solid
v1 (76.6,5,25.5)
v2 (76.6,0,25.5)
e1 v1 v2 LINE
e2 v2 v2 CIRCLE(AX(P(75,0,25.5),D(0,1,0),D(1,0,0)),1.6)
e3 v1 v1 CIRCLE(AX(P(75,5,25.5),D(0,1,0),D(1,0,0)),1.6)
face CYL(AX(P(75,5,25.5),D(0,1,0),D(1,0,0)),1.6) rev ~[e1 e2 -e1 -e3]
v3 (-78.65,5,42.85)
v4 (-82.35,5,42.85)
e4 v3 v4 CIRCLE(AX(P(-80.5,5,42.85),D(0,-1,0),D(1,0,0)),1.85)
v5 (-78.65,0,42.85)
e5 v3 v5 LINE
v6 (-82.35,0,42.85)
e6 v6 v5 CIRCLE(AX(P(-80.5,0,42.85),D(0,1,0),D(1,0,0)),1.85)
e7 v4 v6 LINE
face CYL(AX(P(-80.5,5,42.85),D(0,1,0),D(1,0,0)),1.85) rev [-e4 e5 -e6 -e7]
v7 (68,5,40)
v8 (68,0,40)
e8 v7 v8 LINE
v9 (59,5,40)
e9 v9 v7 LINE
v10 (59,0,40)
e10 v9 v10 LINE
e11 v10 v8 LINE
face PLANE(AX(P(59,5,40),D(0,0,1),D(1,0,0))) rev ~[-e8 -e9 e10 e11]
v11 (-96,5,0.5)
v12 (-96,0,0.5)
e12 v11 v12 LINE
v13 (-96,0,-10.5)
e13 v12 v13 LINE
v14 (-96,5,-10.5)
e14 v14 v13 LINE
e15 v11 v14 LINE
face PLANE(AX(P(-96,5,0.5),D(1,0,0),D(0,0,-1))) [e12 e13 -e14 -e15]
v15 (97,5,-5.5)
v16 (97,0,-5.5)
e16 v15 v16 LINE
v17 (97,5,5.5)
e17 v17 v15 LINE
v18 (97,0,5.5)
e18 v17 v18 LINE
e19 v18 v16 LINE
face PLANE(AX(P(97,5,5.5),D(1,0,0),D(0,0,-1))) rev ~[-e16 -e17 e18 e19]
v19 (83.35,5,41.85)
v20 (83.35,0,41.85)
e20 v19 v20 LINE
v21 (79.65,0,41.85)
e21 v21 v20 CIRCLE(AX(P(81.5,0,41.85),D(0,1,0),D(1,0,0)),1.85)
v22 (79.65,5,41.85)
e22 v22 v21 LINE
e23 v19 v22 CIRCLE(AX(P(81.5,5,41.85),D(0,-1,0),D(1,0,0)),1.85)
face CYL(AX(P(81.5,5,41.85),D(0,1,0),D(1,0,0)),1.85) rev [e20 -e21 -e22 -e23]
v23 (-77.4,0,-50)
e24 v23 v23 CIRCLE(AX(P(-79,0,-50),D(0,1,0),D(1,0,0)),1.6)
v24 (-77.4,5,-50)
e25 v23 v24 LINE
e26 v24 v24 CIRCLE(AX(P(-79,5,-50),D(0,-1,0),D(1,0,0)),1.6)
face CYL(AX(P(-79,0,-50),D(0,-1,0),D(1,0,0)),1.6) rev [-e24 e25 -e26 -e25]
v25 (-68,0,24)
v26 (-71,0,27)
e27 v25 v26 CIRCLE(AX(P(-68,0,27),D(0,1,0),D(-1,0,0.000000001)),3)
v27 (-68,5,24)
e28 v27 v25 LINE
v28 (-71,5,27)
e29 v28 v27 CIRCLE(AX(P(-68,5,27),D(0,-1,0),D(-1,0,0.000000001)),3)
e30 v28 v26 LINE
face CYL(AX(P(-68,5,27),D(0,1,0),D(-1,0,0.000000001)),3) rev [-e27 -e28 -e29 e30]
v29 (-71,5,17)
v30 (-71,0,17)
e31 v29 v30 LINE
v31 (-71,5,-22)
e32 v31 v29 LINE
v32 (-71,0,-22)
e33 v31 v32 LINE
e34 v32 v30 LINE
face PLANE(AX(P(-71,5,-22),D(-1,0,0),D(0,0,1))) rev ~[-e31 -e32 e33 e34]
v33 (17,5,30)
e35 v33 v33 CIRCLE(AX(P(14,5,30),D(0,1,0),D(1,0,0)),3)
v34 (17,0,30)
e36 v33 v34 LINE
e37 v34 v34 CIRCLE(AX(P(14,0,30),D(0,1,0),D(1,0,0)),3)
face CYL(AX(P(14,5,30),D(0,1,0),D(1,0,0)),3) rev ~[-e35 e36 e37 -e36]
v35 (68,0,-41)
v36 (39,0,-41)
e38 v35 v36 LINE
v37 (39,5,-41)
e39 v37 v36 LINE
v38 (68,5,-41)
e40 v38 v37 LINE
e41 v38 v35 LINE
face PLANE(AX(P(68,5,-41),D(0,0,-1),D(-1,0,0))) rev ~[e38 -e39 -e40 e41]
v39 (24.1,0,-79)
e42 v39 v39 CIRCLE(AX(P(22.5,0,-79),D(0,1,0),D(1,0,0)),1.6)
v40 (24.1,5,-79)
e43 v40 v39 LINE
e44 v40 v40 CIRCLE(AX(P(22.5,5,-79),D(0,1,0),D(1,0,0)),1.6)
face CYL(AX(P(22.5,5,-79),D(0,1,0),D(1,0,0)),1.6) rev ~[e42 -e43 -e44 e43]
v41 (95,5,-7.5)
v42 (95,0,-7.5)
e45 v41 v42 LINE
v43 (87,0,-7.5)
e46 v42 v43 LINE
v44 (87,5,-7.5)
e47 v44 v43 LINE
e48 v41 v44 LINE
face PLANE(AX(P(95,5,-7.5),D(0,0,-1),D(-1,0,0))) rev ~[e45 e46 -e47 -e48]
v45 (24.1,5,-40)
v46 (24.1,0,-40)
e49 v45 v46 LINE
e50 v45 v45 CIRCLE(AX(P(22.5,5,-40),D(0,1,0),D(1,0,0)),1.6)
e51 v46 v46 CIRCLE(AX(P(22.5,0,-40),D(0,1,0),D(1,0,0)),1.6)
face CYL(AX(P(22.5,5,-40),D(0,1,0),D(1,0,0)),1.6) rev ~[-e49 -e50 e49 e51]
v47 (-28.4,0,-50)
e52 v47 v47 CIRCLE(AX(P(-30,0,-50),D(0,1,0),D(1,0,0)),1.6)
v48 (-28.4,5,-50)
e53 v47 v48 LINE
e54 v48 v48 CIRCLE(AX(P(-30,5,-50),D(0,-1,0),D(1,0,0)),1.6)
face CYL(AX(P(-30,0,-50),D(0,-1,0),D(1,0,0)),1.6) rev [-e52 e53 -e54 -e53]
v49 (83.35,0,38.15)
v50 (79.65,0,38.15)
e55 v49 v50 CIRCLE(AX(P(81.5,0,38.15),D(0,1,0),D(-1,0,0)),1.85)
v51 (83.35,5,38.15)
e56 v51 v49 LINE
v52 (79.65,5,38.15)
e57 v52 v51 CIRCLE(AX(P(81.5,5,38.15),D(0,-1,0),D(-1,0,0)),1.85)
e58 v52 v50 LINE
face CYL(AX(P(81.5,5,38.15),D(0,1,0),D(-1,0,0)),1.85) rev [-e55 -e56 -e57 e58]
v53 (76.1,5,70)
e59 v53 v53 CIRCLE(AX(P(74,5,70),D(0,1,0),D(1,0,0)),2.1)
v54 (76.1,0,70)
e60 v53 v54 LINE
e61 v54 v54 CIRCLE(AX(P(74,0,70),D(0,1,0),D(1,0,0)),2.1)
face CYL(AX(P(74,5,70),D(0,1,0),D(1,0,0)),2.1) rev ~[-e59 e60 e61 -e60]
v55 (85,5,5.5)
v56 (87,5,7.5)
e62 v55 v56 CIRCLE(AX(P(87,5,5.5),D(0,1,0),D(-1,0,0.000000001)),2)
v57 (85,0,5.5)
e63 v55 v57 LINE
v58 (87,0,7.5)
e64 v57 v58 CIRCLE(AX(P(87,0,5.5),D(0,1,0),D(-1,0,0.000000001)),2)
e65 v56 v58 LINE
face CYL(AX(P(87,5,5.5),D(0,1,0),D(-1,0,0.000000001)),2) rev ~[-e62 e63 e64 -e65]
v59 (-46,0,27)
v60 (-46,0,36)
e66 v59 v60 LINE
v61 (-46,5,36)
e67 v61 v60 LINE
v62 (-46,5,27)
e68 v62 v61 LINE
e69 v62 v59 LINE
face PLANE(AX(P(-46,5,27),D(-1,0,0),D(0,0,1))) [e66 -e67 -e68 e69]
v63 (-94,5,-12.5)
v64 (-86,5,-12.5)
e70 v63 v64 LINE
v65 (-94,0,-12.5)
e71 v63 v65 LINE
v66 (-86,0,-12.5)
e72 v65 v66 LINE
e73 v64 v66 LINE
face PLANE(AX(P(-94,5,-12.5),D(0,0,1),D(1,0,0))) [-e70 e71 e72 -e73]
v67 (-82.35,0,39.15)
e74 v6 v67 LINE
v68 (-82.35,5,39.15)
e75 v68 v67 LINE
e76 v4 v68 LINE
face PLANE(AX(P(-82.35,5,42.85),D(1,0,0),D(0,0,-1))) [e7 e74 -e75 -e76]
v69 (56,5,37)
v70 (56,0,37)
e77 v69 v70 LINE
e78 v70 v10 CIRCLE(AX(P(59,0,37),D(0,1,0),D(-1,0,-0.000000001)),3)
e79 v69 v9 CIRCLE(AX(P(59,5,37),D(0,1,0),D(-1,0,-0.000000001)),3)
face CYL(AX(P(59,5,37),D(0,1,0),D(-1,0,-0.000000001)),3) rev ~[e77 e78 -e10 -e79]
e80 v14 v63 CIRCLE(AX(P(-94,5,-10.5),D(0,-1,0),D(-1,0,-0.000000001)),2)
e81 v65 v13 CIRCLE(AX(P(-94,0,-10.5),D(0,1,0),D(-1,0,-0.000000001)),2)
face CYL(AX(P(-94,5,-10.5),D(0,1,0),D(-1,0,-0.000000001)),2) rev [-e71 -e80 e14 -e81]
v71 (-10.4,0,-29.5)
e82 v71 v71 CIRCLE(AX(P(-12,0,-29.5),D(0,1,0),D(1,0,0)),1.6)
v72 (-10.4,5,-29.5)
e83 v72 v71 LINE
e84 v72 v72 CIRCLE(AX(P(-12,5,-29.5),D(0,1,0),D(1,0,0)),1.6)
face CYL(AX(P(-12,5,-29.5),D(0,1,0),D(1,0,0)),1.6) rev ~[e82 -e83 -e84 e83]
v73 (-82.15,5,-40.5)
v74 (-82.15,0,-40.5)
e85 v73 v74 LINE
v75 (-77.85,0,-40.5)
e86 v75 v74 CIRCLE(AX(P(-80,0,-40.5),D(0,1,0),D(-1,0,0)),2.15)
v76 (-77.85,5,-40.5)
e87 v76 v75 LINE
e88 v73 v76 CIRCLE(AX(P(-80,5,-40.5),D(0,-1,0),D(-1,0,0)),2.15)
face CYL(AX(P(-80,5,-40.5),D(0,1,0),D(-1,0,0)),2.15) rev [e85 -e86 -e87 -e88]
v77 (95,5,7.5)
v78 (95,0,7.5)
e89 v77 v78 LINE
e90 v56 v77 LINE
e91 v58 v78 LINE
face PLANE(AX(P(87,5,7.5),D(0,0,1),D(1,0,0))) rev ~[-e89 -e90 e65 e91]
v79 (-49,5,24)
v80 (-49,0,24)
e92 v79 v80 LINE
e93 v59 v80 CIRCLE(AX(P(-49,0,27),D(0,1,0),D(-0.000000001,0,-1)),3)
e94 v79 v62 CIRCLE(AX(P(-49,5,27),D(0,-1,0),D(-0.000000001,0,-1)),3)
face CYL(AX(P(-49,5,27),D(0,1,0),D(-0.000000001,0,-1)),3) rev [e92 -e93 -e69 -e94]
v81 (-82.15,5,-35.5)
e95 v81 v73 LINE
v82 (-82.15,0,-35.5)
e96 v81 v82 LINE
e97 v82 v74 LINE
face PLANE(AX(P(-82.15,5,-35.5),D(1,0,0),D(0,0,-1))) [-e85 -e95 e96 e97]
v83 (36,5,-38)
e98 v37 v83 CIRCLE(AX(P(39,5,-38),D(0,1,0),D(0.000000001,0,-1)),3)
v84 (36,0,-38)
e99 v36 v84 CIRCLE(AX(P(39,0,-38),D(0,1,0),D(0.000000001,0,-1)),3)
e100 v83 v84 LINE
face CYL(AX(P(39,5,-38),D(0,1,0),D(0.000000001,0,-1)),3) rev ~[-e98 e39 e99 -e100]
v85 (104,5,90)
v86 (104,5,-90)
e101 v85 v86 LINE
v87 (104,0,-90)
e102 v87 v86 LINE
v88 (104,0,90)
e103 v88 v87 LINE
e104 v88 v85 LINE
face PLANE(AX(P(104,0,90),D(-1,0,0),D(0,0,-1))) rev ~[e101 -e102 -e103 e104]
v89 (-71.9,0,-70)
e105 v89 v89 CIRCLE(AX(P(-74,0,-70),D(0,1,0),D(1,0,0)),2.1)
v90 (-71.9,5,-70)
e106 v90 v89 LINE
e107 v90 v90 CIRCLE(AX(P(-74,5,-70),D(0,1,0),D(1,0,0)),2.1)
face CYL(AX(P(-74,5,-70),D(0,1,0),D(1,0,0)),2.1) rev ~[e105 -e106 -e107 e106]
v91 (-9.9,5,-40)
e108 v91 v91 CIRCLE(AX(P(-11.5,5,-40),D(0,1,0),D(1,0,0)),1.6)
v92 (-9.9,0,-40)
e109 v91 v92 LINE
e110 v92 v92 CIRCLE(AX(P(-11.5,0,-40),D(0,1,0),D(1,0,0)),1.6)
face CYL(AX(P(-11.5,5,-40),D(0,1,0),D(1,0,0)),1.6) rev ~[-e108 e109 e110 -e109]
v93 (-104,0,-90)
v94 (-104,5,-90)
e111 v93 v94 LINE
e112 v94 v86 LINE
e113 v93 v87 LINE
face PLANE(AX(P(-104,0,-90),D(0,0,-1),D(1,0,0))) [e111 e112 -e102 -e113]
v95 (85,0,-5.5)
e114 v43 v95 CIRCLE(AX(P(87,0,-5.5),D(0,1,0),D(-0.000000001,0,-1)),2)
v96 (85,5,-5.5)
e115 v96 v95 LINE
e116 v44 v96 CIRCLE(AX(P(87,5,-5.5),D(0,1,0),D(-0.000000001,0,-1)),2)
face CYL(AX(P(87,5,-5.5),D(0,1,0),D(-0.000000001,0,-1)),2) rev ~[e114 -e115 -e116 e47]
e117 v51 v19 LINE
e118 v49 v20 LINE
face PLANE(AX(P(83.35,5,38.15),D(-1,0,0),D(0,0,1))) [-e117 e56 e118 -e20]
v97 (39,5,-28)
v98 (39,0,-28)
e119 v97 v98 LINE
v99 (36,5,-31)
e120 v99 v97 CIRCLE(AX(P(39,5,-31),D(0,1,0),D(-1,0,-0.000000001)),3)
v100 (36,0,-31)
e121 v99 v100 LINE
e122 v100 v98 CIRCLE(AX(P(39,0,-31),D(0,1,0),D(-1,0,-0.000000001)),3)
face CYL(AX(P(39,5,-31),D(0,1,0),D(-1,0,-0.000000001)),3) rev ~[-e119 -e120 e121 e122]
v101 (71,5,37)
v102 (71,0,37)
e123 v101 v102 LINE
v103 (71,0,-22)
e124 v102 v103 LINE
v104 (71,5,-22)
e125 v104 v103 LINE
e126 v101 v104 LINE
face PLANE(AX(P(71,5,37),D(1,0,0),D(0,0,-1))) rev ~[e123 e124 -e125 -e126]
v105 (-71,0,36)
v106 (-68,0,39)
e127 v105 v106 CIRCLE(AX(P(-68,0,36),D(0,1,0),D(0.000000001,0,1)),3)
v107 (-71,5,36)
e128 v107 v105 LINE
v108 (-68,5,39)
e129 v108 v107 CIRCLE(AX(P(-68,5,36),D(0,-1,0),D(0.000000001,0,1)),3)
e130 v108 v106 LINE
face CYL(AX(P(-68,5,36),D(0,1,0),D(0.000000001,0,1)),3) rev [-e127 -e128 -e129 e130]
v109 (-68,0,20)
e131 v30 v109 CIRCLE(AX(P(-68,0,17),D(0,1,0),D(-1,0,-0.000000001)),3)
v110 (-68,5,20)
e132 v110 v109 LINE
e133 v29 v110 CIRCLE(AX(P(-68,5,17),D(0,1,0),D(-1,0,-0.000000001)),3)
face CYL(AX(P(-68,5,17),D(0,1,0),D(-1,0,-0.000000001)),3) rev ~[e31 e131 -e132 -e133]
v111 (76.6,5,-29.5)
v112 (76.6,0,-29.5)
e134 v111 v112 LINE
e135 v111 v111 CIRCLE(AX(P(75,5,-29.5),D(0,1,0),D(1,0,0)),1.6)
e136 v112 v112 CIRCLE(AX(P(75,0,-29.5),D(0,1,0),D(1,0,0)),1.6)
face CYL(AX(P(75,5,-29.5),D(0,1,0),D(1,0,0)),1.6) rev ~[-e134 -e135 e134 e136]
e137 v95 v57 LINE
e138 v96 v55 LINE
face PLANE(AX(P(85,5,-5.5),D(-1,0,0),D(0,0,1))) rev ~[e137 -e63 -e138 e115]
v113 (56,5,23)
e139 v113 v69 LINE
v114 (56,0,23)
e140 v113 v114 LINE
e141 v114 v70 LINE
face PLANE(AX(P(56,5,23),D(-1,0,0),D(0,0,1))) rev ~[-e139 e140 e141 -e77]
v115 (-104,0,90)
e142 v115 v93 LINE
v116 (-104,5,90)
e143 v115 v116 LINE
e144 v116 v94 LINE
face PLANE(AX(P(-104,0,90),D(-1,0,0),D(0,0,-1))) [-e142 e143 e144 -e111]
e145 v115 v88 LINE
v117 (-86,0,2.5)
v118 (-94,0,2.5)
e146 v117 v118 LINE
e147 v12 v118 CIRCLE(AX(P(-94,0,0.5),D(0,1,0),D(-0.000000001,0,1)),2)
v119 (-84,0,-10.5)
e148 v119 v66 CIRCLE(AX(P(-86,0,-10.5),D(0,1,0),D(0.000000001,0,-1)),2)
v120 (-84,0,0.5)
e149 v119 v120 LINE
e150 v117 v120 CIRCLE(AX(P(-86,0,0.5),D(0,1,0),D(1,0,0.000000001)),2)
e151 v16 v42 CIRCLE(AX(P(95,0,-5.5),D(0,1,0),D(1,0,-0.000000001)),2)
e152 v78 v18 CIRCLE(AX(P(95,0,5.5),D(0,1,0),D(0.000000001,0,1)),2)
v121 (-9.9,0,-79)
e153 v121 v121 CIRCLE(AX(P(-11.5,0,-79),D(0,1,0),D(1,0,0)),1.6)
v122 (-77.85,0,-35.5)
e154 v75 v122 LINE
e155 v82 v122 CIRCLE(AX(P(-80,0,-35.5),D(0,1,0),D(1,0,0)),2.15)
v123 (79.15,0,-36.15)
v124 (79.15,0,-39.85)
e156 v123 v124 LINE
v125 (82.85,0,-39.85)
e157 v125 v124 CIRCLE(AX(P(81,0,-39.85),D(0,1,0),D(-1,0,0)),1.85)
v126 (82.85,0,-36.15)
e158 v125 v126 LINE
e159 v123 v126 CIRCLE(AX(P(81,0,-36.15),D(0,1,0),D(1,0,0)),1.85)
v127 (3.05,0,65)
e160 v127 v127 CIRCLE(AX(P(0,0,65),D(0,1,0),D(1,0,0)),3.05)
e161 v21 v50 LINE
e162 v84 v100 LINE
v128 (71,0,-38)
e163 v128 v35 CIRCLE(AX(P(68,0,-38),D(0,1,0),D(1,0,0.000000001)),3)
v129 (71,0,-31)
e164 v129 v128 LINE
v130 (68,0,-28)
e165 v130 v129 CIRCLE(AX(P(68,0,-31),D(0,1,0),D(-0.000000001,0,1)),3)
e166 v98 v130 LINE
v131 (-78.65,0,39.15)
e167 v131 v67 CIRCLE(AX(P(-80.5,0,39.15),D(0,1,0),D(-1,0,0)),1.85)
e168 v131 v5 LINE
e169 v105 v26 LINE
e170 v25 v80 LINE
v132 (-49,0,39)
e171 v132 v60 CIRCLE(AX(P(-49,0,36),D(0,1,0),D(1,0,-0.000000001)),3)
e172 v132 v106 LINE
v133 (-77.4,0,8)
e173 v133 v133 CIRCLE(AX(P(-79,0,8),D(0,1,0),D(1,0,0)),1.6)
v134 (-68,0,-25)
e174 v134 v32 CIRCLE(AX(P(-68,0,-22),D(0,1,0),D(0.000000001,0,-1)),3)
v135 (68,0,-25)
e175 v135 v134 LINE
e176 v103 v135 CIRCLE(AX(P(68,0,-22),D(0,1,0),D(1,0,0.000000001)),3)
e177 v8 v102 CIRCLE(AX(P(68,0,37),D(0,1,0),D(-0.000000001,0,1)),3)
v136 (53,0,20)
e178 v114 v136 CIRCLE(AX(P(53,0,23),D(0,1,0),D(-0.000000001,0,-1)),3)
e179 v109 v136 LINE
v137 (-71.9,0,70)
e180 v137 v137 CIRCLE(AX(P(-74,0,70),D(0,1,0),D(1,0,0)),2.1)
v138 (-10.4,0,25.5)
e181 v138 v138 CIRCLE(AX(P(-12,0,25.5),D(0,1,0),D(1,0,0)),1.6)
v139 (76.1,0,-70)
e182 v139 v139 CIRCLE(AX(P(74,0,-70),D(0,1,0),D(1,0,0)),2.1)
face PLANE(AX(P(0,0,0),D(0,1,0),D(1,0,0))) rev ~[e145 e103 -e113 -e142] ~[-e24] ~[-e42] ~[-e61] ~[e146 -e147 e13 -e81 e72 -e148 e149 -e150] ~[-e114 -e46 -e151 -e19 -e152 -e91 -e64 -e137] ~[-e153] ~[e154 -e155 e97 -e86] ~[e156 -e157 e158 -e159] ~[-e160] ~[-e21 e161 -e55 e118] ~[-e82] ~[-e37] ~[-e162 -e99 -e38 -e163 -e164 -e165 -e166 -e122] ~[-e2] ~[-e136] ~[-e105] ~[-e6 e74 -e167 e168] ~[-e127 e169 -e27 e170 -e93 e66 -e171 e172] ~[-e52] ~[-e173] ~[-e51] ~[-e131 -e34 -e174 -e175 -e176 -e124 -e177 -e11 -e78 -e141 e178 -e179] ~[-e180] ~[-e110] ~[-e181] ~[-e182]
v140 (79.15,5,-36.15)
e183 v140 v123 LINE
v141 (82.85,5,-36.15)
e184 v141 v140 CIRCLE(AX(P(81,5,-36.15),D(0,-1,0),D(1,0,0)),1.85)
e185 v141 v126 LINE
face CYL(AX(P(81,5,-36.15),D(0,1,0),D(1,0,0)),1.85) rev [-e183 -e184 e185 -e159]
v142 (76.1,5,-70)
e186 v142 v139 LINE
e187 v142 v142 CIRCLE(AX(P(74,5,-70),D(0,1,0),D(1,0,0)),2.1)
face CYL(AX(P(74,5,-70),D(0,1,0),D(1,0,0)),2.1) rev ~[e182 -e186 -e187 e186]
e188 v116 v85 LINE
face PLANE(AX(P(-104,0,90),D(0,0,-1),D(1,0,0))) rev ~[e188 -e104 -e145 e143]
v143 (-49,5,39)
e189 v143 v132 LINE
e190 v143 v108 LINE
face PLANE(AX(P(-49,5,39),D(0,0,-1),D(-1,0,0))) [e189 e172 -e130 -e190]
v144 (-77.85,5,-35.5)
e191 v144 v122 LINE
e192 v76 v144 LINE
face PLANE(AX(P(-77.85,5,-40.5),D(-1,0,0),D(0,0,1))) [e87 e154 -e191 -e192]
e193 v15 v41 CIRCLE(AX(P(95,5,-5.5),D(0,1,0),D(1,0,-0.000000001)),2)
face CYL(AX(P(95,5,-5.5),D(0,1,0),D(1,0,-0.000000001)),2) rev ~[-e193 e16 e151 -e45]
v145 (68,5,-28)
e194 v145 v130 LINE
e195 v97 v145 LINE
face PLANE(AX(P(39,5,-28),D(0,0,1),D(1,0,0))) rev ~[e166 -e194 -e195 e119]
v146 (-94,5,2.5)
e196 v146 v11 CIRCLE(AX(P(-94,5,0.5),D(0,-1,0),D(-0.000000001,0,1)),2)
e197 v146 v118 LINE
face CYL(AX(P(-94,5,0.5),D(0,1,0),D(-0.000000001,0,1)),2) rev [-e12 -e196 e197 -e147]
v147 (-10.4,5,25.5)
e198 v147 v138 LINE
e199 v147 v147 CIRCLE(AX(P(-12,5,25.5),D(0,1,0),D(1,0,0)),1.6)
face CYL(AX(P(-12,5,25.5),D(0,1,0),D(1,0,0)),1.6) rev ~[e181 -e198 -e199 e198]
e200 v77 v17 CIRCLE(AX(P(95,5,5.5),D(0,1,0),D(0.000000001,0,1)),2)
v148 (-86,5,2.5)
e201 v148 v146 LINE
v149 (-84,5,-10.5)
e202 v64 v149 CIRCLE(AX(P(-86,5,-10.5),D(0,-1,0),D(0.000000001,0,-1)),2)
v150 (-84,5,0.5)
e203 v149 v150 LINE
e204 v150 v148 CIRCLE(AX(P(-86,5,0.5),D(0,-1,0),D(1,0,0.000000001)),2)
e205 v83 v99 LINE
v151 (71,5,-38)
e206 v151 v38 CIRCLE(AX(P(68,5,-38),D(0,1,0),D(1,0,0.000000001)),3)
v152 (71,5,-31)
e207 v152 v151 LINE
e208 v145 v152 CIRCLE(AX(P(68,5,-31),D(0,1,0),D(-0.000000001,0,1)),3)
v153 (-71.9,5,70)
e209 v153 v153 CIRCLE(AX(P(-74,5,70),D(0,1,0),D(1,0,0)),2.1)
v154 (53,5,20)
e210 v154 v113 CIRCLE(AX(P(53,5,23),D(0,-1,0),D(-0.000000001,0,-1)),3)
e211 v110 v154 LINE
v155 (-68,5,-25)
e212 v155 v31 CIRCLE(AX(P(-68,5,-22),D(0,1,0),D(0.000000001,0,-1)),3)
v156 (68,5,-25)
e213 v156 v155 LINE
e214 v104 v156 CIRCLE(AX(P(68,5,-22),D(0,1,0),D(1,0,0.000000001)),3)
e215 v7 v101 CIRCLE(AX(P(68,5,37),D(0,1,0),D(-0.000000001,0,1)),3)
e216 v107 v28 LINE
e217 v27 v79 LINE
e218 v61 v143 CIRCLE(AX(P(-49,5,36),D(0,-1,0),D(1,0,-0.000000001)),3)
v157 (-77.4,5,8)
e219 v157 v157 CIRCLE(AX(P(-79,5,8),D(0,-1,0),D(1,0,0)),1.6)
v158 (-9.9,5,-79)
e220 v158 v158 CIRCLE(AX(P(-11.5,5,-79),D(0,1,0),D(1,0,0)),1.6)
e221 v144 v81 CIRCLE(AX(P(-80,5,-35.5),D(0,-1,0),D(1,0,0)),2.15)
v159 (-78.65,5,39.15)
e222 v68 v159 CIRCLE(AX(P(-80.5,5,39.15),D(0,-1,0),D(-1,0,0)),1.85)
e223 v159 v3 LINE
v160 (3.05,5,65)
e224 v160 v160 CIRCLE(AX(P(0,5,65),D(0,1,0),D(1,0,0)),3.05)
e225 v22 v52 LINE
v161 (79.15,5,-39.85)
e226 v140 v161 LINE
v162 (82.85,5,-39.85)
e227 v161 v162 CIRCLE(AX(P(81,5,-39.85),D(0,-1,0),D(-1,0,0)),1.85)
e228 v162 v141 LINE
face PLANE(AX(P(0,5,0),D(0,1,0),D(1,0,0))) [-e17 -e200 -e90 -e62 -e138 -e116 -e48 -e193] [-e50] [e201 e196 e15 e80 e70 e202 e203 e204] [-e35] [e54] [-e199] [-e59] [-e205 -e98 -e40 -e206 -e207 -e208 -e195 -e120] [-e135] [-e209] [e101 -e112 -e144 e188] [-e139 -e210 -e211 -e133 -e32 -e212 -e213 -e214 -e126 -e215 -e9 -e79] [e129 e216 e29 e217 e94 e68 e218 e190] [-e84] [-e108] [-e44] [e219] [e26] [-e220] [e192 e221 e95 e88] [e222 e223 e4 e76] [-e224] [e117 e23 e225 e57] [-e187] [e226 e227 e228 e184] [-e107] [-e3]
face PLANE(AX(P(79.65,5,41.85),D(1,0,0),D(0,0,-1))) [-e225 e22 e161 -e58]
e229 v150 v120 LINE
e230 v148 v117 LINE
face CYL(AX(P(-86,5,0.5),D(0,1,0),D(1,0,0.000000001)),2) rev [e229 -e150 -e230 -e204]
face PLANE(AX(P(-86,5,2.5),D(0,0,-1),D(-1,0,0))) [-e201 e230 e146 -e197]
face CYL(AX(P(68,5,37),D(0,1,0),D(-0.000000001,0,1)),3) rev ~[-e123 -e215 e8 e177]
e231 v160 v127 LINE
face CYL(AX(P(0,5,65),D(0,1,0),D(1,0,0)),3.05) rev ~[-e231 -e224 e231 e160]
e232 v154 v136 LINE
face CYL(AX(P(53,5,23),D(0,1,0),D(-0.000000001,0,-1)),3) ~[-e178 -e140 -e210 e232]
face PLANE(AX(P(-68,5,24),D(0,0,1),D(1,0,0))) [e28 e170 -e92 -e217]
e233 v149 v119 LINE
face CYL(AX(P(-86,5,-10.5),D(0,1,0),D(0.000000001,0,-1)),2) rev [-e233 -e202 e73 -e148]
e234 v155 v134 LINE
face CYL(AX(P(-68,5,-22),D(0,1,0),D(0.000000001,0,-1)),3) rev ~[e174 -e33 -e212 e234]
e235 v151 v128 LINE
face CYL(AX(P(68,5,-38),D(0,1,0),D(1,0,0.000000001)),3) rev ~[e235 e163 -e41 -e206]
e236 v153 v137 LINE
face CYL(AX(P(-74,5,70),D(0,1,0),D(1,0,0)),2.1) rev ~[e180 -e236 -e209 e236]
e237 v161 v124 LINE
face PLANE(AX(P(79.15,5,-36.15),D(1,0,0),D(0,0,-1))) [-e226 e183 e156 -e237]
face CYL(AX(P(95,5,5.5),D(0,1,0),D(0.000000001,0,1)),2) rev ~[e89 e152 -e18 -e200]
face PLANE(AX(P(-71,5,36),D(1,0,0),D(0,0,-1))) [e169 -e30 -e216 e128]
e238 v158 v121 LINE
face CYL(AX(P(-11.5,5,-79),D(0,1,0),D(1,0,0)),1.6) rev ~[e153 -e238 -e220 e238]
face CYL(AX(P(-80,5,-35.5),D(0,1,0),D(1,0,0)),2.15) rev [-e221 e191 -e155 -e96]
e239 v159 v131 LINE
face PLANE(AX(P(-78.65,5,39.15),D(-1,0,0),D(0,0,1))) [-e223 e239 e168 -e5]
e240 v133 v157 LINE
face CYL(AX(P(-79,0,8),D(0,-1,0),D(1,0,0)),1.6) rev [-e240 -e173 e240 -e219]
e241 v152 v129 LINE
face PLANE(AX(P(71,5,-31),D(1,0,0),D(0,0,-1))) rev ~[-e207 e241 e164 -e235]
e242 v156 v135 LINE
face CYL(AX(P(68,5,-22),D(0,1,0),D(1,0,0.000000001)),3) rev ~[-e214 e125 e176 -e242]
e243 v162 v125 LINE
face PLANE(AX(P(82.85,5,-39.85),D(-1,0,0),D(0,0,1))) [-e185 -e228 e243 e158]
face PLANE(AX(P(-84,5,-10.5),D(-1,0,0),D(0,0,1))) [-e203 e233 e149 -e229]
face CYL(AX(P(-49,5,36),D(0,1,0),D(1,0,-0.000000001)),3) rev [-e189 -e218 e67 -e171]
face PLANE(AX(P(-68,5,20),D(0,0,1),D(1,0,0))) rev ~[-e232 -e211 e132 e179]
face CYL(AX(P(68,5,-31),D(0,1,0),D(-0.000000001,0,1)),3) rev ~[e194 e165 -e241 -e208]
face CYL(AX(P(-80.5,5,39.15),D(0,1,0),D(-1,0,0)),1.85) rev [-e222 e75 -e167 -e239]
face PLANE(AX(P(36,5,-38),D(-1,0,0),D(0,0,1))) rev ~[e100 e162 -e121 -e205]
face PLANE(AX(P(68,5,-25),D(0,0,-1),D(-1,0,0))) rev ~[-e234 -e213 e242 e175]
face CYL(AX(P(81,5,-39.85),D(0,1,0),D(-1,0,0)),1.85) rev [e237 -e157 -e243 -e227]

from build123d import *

# Parameters (mm, degrees)
D_KESIM_W                   = 208
D_KESIM_H                   = 180
ANA_PLAKA_DEPTH             = 5
BASEBOARD_PI_R              = 1.6
BASE_PI_DEPTH               = 6
KASA_BA_LANT_LAR_DEPTH      = 6
SKETCH3_R                   = 3
LIPO_YUVAS_DEPTH            = 6
SKETCH1_R                   = 1.6
MAINBOARD_DEPTH             = 6
SKETCH5_R                   = 2.1
VIDA_DELIKLERI_DEPTH        = 6
KABLO_AKTAR_M_BO_LU_U_DEPTH = 6
SHARP_SENSOR_DEPTH          = 6
SKETCH11_R                  = 3.05
STOP_BUTON_DEPTH            = 6
SKETCH10_R                  = 1.6
MOTOR_DRIVER_DEPTH          = 6


with BuildPart() as part:
    # Dış Kesim → Ana Plaka (new body)
    with BuildSketch(Plane(origin=(0, 0, 0), x_dir=(1, 0, 0), z_dir=(0, 1, 0))):
        Rectangle(D_KESIM_W, D_KESIM_H)
    extrude(amount=ANA_PLAKA_DEPTH)

    # BaseBoard + Pi → Base - Pi (cut, through all)
    with BuildSketch(Plane(origin=(0, 0, 0), x_dir=(1, 0, 0), z_dir=(0, 1, 0))):
        with Locations((-30, 50)):
            Circle(BASEBOARD_PI_R)
        with Locations((-79, 50)):
            Circle(BASEBOARD_PI_R)
        with Locations((-79, -8)):
            Circle(BASEBOARD_PI_R)
    extrude(amount=BASE_PI_DEPTH, mode=Mode.SUBTRACT)

    # Sketch2 → Kasa Bağlantıları (cut, through all)
    with BuildSketch(Plane(origin=(0, 5, 0), x_dir=(1, 0, 0), z_dir=(0, 1, 0))):
        with BuildLine():
            Line((-82.15, 35.5), (-82.15, 40.5))
            ThreePointArc((-82.15, 40.5), (-80, 42.65), (-77.85, 40.5))
            Line((-77.85, 40.5), (-77.85, 35.5))
            ThreePointArc((-77.85, 35.5), (-80, 33.35), (-82.15, 35.5))
        make_face()
        with BuildLine():
            Line((-82.35, -42.85), (-82.35, -39.15))
            ThreePointArc((-82.35, -39.15), (-80.5, -37.3), (-78.65, -39.15))
            Line((-78.65, -39.15), (-78.65, -42.85))
            ThreePointArc((-78.65, -42.85), (-80.5, -44.7), (-82.35, -42.85))
        make_face()
        with BuildLine():
            Line((79.65, -41.85), (79.65, -38.15))
            ThreePointArc((79.65, -38.15), (81.5, -36.3), (83.35, -38.15))
            Line((83.35, -38.15), (83.35, -41.85))
            ThreePointArc((83.35, -41.85), (81.5, -43.7), (79.65, -41.85))
        make_face()
        with BuildLine():
            Line((79.15, 36.15), (79.15, 39.85))
            ThreePointArc((79.15, 39.85), (81, 41.7), (82.85, 39.85))
            Line((82.85, 39.85), (82.85, 36.15))
            ThreePointArc((82.85, 36.15), (81, 34.3), (79.15, 36.15))
        make_face()
    extrude(amount=-KASA_BA_LANT_LAR_DEPTH, mode=Mode.SUBTRACT)

    # Sketch3 → LiPo Yuvası (cut, through all)
    with BuildSketch(Plane(origin=(0, 5, 0), x_dir=(1, 0, 0), z_dir=(0, 1, 0))):
        with Locations((14, -30)):
            Circle(SKETCH3_R)
        with BuildLine():
            Line((-59, 25), (-68, 25))
            ThreePointArc((-68, 25), (-70.121320344, 24.121320344), (-71, 22))
            Line((-71, 22), (-71, -17))
            ThreePointArc((-71, -17), (-70.121320344, -19.121320344), (-68, -20))
            Line((-68, -20), (53, -20))
            ThreePointArc((53, -20), (55.121320344, -20.878679656), (56, -23))
            Line((56, -23), (56, -37))
            ThreePointArc((56, -37), (56.878679656, -39.121320344), (59, -40))
            Line((59, -40), (68, -40))
            ThreePointArc((68, -40), (70.121320344, -39.121320344), (71, -37))
            Line((71, -37), (71, -15))
            Line((71, -15), (71, 22))
            ThreePointArc((71, 22), (70.121320344, 24.121320344), (68, 25))
            Line((68, 25), (-59, 25))
        make_face()
        with BuildLine():
            Line((-68, -24), (-49, -24))
            ThreePointArc((-49, -24), (-46.878679656, -24.878679656), (-46, -27))
            Line((-46, -27), (-46, -36))
            ThreePointArc((-46, -36), (-46.878679656, -38.121320344), (-49, -39))
            Line((-49, -39), (-68, -39))
            ThreePointArc((-68, -39), (-70.121320344, -38.121320344), (-71, -36))
            Line((-71, -36), (-71, -27))
            ThreePointArc((-71, -27), (-70.121320344, -24.878679656), (-68, -24))
        make_face()
    extrude(amount=-LIPO_YUVAS_DEPTH, mode=Mode.SUBTRACT)

    # Sketch1 → MainBoard (cut, through all)
    with BuildSketch(Plane(origin=(0, 5, 0), x_dir=(1, 0, 0), z_dir=(0, 1, 0))):
        with Locations((-12, 29.5)):
            Circle(SKETCH1_R)
        with Locations((75, 29.5)):
            Circle(SKETCH1_R)
        with Locations((75, -25.5)):
            Circle(SKETCH1_R)
        with Locations((-12, -25.5)):
            Circle(SKETCH1_R)
    extrude(amount=-MAINBOARD_DEPTH, mode=Mode.SUBTRACT)

    # Sketch5 → Vida Delikleri (cut, through all)
    with BuildSketch(Plane(origin=(0, 5, 0), x_dir=(1, 0, 0), z_dir=(0, 1, 0))):
        with Locations((-74, 70)):
            Circle(SKETCH5_R)
        with Locations((74, 70)):
            Circle(SKETCH5_R)
        with Locations((74, -70)):
            Circle(SKETCH5_R)
        with Locations((-74, -70)):
            Circle(SKETCH5_R)
    extrude(amount=-VIDA_DELIKLERI_DEPTH, mode=Mode.SUBTRACT)

    # Sketch8 → Kablo Aktarım Boşluğu (cut, through all)
    with BuildSketch(Plane(origin=(0, 5, 0), x_dir=(1, 0, 0), z_dir=(0, 1, 0))):
        with BuildLine():
            Line((68, 41), (39, 41))
            ThreePointArc((39, 41), (36.878679656, 40.121320344), (36, 38))
            Line((36, 38), (36, 31))
            ThreePointArc((36, 31), (36.878679656, 28.878679656), (39, 28))
            Line((39, 28), (68, 28))
            ThreePointArc((68, 28), (70.121320344, 28.878679656), (71, 31))
            Line((71, 31), (71, 38))
            ThreePointArc((71, 38), (70.121320344, 40.121320344), (68, 41))
        make_face()
    extrude(amount=-KABLO_AKTAR_M_BO_LU_U_DEPTH, mode=Mode.SUBTRACT)

    # Sketch9 → Sharp Sensor (cut, through all)
    with BuildSketch(Plane(origin=(0, 5, 0), x_dir=(1, 0, 0), z_dir=(0, 1, 0))):
        with BuildLine():
            Line((-94, 12.5), (-86, 12.5))
            ThreePointArc((-86, 12.5), (-84.585786438, 11.914213562), (-84, 10.5))
            Line((-84, 10.5), (-84, -0.5))
            ThreePointArc((-84, -0.5), (-84.585786438, -1.914213562), (-86, -2.5))
            Line((-86, -2.5), (-94, -2.5))
            ThreePointArc((-94, -2.5), (-95.414213562, -1.914213562), (-96, -0.5))
            Line((-96, -0.5), (-96, 10.5))
            ThreePointArc((-96, 10.5), (-95.414213562, 11.914213562), (-94, 12.5))
        make_face()
        with BuildLine():
            Line((95, 7.5), (87, 7.5))
            ThreePointArc((87, 7.5), (85.585786438, 6.914213562), (85, 5.5))
            Line((85, 5.5), (85, -5.5))
            ThreePointArc((85, -5.5), (85.585786438, -6.914213562), (87, -7.5))
            Line((87, -7.5), (95, -7.5))
            ThreePointArc((95, -7.5), (96.414213562, -6.914213562), (97, -5.5))
            Line((97, -5.5), (97, 5.5))
            ThreePointArc((97, 5.5), (96.414213562, 6.914213562), (95, 7.5))
        make_face()
    extrude(amount=-SHARP_SENSOR_DEPTH, mode=Mode.SUBTRACT)

    # Sketch11 → Stop Buton (cut, through all)
    with BuildSketch(Plane(origin=(0, 5, 0), x_dir=(1, 0, 0), z_dir=(0, 1, 0))):
        with Locations((0, -65)):
            Circle(SKETCH11_R)
    extrude(amount=-STOP_BUTON_DEPTH, mode=Mode.SUBTRACT)

    # Sketch10 → Motor Driver (cut, through all)
    with BuildSketch(Plane(origin=(0, 5, 0), x_dir=(1, 0, 0), z_dir=(0, 1, 0))):
        with Locations((-11.5, 40)):
            Circle(SKETCH10_R)
        with Locations((22.5, 40)):
            Circle(SKETCH10_R)
        with Locations((-11.5, 79)):
            Circle(SKETCH10_R)
        with Locations((22.5, 79)):
            Circle(SKETCH10_R)
    extrude(amount=-MOTOR_DRIVER_DEPTH, mode=Mode.SUBTRACT)


solid = part.part
